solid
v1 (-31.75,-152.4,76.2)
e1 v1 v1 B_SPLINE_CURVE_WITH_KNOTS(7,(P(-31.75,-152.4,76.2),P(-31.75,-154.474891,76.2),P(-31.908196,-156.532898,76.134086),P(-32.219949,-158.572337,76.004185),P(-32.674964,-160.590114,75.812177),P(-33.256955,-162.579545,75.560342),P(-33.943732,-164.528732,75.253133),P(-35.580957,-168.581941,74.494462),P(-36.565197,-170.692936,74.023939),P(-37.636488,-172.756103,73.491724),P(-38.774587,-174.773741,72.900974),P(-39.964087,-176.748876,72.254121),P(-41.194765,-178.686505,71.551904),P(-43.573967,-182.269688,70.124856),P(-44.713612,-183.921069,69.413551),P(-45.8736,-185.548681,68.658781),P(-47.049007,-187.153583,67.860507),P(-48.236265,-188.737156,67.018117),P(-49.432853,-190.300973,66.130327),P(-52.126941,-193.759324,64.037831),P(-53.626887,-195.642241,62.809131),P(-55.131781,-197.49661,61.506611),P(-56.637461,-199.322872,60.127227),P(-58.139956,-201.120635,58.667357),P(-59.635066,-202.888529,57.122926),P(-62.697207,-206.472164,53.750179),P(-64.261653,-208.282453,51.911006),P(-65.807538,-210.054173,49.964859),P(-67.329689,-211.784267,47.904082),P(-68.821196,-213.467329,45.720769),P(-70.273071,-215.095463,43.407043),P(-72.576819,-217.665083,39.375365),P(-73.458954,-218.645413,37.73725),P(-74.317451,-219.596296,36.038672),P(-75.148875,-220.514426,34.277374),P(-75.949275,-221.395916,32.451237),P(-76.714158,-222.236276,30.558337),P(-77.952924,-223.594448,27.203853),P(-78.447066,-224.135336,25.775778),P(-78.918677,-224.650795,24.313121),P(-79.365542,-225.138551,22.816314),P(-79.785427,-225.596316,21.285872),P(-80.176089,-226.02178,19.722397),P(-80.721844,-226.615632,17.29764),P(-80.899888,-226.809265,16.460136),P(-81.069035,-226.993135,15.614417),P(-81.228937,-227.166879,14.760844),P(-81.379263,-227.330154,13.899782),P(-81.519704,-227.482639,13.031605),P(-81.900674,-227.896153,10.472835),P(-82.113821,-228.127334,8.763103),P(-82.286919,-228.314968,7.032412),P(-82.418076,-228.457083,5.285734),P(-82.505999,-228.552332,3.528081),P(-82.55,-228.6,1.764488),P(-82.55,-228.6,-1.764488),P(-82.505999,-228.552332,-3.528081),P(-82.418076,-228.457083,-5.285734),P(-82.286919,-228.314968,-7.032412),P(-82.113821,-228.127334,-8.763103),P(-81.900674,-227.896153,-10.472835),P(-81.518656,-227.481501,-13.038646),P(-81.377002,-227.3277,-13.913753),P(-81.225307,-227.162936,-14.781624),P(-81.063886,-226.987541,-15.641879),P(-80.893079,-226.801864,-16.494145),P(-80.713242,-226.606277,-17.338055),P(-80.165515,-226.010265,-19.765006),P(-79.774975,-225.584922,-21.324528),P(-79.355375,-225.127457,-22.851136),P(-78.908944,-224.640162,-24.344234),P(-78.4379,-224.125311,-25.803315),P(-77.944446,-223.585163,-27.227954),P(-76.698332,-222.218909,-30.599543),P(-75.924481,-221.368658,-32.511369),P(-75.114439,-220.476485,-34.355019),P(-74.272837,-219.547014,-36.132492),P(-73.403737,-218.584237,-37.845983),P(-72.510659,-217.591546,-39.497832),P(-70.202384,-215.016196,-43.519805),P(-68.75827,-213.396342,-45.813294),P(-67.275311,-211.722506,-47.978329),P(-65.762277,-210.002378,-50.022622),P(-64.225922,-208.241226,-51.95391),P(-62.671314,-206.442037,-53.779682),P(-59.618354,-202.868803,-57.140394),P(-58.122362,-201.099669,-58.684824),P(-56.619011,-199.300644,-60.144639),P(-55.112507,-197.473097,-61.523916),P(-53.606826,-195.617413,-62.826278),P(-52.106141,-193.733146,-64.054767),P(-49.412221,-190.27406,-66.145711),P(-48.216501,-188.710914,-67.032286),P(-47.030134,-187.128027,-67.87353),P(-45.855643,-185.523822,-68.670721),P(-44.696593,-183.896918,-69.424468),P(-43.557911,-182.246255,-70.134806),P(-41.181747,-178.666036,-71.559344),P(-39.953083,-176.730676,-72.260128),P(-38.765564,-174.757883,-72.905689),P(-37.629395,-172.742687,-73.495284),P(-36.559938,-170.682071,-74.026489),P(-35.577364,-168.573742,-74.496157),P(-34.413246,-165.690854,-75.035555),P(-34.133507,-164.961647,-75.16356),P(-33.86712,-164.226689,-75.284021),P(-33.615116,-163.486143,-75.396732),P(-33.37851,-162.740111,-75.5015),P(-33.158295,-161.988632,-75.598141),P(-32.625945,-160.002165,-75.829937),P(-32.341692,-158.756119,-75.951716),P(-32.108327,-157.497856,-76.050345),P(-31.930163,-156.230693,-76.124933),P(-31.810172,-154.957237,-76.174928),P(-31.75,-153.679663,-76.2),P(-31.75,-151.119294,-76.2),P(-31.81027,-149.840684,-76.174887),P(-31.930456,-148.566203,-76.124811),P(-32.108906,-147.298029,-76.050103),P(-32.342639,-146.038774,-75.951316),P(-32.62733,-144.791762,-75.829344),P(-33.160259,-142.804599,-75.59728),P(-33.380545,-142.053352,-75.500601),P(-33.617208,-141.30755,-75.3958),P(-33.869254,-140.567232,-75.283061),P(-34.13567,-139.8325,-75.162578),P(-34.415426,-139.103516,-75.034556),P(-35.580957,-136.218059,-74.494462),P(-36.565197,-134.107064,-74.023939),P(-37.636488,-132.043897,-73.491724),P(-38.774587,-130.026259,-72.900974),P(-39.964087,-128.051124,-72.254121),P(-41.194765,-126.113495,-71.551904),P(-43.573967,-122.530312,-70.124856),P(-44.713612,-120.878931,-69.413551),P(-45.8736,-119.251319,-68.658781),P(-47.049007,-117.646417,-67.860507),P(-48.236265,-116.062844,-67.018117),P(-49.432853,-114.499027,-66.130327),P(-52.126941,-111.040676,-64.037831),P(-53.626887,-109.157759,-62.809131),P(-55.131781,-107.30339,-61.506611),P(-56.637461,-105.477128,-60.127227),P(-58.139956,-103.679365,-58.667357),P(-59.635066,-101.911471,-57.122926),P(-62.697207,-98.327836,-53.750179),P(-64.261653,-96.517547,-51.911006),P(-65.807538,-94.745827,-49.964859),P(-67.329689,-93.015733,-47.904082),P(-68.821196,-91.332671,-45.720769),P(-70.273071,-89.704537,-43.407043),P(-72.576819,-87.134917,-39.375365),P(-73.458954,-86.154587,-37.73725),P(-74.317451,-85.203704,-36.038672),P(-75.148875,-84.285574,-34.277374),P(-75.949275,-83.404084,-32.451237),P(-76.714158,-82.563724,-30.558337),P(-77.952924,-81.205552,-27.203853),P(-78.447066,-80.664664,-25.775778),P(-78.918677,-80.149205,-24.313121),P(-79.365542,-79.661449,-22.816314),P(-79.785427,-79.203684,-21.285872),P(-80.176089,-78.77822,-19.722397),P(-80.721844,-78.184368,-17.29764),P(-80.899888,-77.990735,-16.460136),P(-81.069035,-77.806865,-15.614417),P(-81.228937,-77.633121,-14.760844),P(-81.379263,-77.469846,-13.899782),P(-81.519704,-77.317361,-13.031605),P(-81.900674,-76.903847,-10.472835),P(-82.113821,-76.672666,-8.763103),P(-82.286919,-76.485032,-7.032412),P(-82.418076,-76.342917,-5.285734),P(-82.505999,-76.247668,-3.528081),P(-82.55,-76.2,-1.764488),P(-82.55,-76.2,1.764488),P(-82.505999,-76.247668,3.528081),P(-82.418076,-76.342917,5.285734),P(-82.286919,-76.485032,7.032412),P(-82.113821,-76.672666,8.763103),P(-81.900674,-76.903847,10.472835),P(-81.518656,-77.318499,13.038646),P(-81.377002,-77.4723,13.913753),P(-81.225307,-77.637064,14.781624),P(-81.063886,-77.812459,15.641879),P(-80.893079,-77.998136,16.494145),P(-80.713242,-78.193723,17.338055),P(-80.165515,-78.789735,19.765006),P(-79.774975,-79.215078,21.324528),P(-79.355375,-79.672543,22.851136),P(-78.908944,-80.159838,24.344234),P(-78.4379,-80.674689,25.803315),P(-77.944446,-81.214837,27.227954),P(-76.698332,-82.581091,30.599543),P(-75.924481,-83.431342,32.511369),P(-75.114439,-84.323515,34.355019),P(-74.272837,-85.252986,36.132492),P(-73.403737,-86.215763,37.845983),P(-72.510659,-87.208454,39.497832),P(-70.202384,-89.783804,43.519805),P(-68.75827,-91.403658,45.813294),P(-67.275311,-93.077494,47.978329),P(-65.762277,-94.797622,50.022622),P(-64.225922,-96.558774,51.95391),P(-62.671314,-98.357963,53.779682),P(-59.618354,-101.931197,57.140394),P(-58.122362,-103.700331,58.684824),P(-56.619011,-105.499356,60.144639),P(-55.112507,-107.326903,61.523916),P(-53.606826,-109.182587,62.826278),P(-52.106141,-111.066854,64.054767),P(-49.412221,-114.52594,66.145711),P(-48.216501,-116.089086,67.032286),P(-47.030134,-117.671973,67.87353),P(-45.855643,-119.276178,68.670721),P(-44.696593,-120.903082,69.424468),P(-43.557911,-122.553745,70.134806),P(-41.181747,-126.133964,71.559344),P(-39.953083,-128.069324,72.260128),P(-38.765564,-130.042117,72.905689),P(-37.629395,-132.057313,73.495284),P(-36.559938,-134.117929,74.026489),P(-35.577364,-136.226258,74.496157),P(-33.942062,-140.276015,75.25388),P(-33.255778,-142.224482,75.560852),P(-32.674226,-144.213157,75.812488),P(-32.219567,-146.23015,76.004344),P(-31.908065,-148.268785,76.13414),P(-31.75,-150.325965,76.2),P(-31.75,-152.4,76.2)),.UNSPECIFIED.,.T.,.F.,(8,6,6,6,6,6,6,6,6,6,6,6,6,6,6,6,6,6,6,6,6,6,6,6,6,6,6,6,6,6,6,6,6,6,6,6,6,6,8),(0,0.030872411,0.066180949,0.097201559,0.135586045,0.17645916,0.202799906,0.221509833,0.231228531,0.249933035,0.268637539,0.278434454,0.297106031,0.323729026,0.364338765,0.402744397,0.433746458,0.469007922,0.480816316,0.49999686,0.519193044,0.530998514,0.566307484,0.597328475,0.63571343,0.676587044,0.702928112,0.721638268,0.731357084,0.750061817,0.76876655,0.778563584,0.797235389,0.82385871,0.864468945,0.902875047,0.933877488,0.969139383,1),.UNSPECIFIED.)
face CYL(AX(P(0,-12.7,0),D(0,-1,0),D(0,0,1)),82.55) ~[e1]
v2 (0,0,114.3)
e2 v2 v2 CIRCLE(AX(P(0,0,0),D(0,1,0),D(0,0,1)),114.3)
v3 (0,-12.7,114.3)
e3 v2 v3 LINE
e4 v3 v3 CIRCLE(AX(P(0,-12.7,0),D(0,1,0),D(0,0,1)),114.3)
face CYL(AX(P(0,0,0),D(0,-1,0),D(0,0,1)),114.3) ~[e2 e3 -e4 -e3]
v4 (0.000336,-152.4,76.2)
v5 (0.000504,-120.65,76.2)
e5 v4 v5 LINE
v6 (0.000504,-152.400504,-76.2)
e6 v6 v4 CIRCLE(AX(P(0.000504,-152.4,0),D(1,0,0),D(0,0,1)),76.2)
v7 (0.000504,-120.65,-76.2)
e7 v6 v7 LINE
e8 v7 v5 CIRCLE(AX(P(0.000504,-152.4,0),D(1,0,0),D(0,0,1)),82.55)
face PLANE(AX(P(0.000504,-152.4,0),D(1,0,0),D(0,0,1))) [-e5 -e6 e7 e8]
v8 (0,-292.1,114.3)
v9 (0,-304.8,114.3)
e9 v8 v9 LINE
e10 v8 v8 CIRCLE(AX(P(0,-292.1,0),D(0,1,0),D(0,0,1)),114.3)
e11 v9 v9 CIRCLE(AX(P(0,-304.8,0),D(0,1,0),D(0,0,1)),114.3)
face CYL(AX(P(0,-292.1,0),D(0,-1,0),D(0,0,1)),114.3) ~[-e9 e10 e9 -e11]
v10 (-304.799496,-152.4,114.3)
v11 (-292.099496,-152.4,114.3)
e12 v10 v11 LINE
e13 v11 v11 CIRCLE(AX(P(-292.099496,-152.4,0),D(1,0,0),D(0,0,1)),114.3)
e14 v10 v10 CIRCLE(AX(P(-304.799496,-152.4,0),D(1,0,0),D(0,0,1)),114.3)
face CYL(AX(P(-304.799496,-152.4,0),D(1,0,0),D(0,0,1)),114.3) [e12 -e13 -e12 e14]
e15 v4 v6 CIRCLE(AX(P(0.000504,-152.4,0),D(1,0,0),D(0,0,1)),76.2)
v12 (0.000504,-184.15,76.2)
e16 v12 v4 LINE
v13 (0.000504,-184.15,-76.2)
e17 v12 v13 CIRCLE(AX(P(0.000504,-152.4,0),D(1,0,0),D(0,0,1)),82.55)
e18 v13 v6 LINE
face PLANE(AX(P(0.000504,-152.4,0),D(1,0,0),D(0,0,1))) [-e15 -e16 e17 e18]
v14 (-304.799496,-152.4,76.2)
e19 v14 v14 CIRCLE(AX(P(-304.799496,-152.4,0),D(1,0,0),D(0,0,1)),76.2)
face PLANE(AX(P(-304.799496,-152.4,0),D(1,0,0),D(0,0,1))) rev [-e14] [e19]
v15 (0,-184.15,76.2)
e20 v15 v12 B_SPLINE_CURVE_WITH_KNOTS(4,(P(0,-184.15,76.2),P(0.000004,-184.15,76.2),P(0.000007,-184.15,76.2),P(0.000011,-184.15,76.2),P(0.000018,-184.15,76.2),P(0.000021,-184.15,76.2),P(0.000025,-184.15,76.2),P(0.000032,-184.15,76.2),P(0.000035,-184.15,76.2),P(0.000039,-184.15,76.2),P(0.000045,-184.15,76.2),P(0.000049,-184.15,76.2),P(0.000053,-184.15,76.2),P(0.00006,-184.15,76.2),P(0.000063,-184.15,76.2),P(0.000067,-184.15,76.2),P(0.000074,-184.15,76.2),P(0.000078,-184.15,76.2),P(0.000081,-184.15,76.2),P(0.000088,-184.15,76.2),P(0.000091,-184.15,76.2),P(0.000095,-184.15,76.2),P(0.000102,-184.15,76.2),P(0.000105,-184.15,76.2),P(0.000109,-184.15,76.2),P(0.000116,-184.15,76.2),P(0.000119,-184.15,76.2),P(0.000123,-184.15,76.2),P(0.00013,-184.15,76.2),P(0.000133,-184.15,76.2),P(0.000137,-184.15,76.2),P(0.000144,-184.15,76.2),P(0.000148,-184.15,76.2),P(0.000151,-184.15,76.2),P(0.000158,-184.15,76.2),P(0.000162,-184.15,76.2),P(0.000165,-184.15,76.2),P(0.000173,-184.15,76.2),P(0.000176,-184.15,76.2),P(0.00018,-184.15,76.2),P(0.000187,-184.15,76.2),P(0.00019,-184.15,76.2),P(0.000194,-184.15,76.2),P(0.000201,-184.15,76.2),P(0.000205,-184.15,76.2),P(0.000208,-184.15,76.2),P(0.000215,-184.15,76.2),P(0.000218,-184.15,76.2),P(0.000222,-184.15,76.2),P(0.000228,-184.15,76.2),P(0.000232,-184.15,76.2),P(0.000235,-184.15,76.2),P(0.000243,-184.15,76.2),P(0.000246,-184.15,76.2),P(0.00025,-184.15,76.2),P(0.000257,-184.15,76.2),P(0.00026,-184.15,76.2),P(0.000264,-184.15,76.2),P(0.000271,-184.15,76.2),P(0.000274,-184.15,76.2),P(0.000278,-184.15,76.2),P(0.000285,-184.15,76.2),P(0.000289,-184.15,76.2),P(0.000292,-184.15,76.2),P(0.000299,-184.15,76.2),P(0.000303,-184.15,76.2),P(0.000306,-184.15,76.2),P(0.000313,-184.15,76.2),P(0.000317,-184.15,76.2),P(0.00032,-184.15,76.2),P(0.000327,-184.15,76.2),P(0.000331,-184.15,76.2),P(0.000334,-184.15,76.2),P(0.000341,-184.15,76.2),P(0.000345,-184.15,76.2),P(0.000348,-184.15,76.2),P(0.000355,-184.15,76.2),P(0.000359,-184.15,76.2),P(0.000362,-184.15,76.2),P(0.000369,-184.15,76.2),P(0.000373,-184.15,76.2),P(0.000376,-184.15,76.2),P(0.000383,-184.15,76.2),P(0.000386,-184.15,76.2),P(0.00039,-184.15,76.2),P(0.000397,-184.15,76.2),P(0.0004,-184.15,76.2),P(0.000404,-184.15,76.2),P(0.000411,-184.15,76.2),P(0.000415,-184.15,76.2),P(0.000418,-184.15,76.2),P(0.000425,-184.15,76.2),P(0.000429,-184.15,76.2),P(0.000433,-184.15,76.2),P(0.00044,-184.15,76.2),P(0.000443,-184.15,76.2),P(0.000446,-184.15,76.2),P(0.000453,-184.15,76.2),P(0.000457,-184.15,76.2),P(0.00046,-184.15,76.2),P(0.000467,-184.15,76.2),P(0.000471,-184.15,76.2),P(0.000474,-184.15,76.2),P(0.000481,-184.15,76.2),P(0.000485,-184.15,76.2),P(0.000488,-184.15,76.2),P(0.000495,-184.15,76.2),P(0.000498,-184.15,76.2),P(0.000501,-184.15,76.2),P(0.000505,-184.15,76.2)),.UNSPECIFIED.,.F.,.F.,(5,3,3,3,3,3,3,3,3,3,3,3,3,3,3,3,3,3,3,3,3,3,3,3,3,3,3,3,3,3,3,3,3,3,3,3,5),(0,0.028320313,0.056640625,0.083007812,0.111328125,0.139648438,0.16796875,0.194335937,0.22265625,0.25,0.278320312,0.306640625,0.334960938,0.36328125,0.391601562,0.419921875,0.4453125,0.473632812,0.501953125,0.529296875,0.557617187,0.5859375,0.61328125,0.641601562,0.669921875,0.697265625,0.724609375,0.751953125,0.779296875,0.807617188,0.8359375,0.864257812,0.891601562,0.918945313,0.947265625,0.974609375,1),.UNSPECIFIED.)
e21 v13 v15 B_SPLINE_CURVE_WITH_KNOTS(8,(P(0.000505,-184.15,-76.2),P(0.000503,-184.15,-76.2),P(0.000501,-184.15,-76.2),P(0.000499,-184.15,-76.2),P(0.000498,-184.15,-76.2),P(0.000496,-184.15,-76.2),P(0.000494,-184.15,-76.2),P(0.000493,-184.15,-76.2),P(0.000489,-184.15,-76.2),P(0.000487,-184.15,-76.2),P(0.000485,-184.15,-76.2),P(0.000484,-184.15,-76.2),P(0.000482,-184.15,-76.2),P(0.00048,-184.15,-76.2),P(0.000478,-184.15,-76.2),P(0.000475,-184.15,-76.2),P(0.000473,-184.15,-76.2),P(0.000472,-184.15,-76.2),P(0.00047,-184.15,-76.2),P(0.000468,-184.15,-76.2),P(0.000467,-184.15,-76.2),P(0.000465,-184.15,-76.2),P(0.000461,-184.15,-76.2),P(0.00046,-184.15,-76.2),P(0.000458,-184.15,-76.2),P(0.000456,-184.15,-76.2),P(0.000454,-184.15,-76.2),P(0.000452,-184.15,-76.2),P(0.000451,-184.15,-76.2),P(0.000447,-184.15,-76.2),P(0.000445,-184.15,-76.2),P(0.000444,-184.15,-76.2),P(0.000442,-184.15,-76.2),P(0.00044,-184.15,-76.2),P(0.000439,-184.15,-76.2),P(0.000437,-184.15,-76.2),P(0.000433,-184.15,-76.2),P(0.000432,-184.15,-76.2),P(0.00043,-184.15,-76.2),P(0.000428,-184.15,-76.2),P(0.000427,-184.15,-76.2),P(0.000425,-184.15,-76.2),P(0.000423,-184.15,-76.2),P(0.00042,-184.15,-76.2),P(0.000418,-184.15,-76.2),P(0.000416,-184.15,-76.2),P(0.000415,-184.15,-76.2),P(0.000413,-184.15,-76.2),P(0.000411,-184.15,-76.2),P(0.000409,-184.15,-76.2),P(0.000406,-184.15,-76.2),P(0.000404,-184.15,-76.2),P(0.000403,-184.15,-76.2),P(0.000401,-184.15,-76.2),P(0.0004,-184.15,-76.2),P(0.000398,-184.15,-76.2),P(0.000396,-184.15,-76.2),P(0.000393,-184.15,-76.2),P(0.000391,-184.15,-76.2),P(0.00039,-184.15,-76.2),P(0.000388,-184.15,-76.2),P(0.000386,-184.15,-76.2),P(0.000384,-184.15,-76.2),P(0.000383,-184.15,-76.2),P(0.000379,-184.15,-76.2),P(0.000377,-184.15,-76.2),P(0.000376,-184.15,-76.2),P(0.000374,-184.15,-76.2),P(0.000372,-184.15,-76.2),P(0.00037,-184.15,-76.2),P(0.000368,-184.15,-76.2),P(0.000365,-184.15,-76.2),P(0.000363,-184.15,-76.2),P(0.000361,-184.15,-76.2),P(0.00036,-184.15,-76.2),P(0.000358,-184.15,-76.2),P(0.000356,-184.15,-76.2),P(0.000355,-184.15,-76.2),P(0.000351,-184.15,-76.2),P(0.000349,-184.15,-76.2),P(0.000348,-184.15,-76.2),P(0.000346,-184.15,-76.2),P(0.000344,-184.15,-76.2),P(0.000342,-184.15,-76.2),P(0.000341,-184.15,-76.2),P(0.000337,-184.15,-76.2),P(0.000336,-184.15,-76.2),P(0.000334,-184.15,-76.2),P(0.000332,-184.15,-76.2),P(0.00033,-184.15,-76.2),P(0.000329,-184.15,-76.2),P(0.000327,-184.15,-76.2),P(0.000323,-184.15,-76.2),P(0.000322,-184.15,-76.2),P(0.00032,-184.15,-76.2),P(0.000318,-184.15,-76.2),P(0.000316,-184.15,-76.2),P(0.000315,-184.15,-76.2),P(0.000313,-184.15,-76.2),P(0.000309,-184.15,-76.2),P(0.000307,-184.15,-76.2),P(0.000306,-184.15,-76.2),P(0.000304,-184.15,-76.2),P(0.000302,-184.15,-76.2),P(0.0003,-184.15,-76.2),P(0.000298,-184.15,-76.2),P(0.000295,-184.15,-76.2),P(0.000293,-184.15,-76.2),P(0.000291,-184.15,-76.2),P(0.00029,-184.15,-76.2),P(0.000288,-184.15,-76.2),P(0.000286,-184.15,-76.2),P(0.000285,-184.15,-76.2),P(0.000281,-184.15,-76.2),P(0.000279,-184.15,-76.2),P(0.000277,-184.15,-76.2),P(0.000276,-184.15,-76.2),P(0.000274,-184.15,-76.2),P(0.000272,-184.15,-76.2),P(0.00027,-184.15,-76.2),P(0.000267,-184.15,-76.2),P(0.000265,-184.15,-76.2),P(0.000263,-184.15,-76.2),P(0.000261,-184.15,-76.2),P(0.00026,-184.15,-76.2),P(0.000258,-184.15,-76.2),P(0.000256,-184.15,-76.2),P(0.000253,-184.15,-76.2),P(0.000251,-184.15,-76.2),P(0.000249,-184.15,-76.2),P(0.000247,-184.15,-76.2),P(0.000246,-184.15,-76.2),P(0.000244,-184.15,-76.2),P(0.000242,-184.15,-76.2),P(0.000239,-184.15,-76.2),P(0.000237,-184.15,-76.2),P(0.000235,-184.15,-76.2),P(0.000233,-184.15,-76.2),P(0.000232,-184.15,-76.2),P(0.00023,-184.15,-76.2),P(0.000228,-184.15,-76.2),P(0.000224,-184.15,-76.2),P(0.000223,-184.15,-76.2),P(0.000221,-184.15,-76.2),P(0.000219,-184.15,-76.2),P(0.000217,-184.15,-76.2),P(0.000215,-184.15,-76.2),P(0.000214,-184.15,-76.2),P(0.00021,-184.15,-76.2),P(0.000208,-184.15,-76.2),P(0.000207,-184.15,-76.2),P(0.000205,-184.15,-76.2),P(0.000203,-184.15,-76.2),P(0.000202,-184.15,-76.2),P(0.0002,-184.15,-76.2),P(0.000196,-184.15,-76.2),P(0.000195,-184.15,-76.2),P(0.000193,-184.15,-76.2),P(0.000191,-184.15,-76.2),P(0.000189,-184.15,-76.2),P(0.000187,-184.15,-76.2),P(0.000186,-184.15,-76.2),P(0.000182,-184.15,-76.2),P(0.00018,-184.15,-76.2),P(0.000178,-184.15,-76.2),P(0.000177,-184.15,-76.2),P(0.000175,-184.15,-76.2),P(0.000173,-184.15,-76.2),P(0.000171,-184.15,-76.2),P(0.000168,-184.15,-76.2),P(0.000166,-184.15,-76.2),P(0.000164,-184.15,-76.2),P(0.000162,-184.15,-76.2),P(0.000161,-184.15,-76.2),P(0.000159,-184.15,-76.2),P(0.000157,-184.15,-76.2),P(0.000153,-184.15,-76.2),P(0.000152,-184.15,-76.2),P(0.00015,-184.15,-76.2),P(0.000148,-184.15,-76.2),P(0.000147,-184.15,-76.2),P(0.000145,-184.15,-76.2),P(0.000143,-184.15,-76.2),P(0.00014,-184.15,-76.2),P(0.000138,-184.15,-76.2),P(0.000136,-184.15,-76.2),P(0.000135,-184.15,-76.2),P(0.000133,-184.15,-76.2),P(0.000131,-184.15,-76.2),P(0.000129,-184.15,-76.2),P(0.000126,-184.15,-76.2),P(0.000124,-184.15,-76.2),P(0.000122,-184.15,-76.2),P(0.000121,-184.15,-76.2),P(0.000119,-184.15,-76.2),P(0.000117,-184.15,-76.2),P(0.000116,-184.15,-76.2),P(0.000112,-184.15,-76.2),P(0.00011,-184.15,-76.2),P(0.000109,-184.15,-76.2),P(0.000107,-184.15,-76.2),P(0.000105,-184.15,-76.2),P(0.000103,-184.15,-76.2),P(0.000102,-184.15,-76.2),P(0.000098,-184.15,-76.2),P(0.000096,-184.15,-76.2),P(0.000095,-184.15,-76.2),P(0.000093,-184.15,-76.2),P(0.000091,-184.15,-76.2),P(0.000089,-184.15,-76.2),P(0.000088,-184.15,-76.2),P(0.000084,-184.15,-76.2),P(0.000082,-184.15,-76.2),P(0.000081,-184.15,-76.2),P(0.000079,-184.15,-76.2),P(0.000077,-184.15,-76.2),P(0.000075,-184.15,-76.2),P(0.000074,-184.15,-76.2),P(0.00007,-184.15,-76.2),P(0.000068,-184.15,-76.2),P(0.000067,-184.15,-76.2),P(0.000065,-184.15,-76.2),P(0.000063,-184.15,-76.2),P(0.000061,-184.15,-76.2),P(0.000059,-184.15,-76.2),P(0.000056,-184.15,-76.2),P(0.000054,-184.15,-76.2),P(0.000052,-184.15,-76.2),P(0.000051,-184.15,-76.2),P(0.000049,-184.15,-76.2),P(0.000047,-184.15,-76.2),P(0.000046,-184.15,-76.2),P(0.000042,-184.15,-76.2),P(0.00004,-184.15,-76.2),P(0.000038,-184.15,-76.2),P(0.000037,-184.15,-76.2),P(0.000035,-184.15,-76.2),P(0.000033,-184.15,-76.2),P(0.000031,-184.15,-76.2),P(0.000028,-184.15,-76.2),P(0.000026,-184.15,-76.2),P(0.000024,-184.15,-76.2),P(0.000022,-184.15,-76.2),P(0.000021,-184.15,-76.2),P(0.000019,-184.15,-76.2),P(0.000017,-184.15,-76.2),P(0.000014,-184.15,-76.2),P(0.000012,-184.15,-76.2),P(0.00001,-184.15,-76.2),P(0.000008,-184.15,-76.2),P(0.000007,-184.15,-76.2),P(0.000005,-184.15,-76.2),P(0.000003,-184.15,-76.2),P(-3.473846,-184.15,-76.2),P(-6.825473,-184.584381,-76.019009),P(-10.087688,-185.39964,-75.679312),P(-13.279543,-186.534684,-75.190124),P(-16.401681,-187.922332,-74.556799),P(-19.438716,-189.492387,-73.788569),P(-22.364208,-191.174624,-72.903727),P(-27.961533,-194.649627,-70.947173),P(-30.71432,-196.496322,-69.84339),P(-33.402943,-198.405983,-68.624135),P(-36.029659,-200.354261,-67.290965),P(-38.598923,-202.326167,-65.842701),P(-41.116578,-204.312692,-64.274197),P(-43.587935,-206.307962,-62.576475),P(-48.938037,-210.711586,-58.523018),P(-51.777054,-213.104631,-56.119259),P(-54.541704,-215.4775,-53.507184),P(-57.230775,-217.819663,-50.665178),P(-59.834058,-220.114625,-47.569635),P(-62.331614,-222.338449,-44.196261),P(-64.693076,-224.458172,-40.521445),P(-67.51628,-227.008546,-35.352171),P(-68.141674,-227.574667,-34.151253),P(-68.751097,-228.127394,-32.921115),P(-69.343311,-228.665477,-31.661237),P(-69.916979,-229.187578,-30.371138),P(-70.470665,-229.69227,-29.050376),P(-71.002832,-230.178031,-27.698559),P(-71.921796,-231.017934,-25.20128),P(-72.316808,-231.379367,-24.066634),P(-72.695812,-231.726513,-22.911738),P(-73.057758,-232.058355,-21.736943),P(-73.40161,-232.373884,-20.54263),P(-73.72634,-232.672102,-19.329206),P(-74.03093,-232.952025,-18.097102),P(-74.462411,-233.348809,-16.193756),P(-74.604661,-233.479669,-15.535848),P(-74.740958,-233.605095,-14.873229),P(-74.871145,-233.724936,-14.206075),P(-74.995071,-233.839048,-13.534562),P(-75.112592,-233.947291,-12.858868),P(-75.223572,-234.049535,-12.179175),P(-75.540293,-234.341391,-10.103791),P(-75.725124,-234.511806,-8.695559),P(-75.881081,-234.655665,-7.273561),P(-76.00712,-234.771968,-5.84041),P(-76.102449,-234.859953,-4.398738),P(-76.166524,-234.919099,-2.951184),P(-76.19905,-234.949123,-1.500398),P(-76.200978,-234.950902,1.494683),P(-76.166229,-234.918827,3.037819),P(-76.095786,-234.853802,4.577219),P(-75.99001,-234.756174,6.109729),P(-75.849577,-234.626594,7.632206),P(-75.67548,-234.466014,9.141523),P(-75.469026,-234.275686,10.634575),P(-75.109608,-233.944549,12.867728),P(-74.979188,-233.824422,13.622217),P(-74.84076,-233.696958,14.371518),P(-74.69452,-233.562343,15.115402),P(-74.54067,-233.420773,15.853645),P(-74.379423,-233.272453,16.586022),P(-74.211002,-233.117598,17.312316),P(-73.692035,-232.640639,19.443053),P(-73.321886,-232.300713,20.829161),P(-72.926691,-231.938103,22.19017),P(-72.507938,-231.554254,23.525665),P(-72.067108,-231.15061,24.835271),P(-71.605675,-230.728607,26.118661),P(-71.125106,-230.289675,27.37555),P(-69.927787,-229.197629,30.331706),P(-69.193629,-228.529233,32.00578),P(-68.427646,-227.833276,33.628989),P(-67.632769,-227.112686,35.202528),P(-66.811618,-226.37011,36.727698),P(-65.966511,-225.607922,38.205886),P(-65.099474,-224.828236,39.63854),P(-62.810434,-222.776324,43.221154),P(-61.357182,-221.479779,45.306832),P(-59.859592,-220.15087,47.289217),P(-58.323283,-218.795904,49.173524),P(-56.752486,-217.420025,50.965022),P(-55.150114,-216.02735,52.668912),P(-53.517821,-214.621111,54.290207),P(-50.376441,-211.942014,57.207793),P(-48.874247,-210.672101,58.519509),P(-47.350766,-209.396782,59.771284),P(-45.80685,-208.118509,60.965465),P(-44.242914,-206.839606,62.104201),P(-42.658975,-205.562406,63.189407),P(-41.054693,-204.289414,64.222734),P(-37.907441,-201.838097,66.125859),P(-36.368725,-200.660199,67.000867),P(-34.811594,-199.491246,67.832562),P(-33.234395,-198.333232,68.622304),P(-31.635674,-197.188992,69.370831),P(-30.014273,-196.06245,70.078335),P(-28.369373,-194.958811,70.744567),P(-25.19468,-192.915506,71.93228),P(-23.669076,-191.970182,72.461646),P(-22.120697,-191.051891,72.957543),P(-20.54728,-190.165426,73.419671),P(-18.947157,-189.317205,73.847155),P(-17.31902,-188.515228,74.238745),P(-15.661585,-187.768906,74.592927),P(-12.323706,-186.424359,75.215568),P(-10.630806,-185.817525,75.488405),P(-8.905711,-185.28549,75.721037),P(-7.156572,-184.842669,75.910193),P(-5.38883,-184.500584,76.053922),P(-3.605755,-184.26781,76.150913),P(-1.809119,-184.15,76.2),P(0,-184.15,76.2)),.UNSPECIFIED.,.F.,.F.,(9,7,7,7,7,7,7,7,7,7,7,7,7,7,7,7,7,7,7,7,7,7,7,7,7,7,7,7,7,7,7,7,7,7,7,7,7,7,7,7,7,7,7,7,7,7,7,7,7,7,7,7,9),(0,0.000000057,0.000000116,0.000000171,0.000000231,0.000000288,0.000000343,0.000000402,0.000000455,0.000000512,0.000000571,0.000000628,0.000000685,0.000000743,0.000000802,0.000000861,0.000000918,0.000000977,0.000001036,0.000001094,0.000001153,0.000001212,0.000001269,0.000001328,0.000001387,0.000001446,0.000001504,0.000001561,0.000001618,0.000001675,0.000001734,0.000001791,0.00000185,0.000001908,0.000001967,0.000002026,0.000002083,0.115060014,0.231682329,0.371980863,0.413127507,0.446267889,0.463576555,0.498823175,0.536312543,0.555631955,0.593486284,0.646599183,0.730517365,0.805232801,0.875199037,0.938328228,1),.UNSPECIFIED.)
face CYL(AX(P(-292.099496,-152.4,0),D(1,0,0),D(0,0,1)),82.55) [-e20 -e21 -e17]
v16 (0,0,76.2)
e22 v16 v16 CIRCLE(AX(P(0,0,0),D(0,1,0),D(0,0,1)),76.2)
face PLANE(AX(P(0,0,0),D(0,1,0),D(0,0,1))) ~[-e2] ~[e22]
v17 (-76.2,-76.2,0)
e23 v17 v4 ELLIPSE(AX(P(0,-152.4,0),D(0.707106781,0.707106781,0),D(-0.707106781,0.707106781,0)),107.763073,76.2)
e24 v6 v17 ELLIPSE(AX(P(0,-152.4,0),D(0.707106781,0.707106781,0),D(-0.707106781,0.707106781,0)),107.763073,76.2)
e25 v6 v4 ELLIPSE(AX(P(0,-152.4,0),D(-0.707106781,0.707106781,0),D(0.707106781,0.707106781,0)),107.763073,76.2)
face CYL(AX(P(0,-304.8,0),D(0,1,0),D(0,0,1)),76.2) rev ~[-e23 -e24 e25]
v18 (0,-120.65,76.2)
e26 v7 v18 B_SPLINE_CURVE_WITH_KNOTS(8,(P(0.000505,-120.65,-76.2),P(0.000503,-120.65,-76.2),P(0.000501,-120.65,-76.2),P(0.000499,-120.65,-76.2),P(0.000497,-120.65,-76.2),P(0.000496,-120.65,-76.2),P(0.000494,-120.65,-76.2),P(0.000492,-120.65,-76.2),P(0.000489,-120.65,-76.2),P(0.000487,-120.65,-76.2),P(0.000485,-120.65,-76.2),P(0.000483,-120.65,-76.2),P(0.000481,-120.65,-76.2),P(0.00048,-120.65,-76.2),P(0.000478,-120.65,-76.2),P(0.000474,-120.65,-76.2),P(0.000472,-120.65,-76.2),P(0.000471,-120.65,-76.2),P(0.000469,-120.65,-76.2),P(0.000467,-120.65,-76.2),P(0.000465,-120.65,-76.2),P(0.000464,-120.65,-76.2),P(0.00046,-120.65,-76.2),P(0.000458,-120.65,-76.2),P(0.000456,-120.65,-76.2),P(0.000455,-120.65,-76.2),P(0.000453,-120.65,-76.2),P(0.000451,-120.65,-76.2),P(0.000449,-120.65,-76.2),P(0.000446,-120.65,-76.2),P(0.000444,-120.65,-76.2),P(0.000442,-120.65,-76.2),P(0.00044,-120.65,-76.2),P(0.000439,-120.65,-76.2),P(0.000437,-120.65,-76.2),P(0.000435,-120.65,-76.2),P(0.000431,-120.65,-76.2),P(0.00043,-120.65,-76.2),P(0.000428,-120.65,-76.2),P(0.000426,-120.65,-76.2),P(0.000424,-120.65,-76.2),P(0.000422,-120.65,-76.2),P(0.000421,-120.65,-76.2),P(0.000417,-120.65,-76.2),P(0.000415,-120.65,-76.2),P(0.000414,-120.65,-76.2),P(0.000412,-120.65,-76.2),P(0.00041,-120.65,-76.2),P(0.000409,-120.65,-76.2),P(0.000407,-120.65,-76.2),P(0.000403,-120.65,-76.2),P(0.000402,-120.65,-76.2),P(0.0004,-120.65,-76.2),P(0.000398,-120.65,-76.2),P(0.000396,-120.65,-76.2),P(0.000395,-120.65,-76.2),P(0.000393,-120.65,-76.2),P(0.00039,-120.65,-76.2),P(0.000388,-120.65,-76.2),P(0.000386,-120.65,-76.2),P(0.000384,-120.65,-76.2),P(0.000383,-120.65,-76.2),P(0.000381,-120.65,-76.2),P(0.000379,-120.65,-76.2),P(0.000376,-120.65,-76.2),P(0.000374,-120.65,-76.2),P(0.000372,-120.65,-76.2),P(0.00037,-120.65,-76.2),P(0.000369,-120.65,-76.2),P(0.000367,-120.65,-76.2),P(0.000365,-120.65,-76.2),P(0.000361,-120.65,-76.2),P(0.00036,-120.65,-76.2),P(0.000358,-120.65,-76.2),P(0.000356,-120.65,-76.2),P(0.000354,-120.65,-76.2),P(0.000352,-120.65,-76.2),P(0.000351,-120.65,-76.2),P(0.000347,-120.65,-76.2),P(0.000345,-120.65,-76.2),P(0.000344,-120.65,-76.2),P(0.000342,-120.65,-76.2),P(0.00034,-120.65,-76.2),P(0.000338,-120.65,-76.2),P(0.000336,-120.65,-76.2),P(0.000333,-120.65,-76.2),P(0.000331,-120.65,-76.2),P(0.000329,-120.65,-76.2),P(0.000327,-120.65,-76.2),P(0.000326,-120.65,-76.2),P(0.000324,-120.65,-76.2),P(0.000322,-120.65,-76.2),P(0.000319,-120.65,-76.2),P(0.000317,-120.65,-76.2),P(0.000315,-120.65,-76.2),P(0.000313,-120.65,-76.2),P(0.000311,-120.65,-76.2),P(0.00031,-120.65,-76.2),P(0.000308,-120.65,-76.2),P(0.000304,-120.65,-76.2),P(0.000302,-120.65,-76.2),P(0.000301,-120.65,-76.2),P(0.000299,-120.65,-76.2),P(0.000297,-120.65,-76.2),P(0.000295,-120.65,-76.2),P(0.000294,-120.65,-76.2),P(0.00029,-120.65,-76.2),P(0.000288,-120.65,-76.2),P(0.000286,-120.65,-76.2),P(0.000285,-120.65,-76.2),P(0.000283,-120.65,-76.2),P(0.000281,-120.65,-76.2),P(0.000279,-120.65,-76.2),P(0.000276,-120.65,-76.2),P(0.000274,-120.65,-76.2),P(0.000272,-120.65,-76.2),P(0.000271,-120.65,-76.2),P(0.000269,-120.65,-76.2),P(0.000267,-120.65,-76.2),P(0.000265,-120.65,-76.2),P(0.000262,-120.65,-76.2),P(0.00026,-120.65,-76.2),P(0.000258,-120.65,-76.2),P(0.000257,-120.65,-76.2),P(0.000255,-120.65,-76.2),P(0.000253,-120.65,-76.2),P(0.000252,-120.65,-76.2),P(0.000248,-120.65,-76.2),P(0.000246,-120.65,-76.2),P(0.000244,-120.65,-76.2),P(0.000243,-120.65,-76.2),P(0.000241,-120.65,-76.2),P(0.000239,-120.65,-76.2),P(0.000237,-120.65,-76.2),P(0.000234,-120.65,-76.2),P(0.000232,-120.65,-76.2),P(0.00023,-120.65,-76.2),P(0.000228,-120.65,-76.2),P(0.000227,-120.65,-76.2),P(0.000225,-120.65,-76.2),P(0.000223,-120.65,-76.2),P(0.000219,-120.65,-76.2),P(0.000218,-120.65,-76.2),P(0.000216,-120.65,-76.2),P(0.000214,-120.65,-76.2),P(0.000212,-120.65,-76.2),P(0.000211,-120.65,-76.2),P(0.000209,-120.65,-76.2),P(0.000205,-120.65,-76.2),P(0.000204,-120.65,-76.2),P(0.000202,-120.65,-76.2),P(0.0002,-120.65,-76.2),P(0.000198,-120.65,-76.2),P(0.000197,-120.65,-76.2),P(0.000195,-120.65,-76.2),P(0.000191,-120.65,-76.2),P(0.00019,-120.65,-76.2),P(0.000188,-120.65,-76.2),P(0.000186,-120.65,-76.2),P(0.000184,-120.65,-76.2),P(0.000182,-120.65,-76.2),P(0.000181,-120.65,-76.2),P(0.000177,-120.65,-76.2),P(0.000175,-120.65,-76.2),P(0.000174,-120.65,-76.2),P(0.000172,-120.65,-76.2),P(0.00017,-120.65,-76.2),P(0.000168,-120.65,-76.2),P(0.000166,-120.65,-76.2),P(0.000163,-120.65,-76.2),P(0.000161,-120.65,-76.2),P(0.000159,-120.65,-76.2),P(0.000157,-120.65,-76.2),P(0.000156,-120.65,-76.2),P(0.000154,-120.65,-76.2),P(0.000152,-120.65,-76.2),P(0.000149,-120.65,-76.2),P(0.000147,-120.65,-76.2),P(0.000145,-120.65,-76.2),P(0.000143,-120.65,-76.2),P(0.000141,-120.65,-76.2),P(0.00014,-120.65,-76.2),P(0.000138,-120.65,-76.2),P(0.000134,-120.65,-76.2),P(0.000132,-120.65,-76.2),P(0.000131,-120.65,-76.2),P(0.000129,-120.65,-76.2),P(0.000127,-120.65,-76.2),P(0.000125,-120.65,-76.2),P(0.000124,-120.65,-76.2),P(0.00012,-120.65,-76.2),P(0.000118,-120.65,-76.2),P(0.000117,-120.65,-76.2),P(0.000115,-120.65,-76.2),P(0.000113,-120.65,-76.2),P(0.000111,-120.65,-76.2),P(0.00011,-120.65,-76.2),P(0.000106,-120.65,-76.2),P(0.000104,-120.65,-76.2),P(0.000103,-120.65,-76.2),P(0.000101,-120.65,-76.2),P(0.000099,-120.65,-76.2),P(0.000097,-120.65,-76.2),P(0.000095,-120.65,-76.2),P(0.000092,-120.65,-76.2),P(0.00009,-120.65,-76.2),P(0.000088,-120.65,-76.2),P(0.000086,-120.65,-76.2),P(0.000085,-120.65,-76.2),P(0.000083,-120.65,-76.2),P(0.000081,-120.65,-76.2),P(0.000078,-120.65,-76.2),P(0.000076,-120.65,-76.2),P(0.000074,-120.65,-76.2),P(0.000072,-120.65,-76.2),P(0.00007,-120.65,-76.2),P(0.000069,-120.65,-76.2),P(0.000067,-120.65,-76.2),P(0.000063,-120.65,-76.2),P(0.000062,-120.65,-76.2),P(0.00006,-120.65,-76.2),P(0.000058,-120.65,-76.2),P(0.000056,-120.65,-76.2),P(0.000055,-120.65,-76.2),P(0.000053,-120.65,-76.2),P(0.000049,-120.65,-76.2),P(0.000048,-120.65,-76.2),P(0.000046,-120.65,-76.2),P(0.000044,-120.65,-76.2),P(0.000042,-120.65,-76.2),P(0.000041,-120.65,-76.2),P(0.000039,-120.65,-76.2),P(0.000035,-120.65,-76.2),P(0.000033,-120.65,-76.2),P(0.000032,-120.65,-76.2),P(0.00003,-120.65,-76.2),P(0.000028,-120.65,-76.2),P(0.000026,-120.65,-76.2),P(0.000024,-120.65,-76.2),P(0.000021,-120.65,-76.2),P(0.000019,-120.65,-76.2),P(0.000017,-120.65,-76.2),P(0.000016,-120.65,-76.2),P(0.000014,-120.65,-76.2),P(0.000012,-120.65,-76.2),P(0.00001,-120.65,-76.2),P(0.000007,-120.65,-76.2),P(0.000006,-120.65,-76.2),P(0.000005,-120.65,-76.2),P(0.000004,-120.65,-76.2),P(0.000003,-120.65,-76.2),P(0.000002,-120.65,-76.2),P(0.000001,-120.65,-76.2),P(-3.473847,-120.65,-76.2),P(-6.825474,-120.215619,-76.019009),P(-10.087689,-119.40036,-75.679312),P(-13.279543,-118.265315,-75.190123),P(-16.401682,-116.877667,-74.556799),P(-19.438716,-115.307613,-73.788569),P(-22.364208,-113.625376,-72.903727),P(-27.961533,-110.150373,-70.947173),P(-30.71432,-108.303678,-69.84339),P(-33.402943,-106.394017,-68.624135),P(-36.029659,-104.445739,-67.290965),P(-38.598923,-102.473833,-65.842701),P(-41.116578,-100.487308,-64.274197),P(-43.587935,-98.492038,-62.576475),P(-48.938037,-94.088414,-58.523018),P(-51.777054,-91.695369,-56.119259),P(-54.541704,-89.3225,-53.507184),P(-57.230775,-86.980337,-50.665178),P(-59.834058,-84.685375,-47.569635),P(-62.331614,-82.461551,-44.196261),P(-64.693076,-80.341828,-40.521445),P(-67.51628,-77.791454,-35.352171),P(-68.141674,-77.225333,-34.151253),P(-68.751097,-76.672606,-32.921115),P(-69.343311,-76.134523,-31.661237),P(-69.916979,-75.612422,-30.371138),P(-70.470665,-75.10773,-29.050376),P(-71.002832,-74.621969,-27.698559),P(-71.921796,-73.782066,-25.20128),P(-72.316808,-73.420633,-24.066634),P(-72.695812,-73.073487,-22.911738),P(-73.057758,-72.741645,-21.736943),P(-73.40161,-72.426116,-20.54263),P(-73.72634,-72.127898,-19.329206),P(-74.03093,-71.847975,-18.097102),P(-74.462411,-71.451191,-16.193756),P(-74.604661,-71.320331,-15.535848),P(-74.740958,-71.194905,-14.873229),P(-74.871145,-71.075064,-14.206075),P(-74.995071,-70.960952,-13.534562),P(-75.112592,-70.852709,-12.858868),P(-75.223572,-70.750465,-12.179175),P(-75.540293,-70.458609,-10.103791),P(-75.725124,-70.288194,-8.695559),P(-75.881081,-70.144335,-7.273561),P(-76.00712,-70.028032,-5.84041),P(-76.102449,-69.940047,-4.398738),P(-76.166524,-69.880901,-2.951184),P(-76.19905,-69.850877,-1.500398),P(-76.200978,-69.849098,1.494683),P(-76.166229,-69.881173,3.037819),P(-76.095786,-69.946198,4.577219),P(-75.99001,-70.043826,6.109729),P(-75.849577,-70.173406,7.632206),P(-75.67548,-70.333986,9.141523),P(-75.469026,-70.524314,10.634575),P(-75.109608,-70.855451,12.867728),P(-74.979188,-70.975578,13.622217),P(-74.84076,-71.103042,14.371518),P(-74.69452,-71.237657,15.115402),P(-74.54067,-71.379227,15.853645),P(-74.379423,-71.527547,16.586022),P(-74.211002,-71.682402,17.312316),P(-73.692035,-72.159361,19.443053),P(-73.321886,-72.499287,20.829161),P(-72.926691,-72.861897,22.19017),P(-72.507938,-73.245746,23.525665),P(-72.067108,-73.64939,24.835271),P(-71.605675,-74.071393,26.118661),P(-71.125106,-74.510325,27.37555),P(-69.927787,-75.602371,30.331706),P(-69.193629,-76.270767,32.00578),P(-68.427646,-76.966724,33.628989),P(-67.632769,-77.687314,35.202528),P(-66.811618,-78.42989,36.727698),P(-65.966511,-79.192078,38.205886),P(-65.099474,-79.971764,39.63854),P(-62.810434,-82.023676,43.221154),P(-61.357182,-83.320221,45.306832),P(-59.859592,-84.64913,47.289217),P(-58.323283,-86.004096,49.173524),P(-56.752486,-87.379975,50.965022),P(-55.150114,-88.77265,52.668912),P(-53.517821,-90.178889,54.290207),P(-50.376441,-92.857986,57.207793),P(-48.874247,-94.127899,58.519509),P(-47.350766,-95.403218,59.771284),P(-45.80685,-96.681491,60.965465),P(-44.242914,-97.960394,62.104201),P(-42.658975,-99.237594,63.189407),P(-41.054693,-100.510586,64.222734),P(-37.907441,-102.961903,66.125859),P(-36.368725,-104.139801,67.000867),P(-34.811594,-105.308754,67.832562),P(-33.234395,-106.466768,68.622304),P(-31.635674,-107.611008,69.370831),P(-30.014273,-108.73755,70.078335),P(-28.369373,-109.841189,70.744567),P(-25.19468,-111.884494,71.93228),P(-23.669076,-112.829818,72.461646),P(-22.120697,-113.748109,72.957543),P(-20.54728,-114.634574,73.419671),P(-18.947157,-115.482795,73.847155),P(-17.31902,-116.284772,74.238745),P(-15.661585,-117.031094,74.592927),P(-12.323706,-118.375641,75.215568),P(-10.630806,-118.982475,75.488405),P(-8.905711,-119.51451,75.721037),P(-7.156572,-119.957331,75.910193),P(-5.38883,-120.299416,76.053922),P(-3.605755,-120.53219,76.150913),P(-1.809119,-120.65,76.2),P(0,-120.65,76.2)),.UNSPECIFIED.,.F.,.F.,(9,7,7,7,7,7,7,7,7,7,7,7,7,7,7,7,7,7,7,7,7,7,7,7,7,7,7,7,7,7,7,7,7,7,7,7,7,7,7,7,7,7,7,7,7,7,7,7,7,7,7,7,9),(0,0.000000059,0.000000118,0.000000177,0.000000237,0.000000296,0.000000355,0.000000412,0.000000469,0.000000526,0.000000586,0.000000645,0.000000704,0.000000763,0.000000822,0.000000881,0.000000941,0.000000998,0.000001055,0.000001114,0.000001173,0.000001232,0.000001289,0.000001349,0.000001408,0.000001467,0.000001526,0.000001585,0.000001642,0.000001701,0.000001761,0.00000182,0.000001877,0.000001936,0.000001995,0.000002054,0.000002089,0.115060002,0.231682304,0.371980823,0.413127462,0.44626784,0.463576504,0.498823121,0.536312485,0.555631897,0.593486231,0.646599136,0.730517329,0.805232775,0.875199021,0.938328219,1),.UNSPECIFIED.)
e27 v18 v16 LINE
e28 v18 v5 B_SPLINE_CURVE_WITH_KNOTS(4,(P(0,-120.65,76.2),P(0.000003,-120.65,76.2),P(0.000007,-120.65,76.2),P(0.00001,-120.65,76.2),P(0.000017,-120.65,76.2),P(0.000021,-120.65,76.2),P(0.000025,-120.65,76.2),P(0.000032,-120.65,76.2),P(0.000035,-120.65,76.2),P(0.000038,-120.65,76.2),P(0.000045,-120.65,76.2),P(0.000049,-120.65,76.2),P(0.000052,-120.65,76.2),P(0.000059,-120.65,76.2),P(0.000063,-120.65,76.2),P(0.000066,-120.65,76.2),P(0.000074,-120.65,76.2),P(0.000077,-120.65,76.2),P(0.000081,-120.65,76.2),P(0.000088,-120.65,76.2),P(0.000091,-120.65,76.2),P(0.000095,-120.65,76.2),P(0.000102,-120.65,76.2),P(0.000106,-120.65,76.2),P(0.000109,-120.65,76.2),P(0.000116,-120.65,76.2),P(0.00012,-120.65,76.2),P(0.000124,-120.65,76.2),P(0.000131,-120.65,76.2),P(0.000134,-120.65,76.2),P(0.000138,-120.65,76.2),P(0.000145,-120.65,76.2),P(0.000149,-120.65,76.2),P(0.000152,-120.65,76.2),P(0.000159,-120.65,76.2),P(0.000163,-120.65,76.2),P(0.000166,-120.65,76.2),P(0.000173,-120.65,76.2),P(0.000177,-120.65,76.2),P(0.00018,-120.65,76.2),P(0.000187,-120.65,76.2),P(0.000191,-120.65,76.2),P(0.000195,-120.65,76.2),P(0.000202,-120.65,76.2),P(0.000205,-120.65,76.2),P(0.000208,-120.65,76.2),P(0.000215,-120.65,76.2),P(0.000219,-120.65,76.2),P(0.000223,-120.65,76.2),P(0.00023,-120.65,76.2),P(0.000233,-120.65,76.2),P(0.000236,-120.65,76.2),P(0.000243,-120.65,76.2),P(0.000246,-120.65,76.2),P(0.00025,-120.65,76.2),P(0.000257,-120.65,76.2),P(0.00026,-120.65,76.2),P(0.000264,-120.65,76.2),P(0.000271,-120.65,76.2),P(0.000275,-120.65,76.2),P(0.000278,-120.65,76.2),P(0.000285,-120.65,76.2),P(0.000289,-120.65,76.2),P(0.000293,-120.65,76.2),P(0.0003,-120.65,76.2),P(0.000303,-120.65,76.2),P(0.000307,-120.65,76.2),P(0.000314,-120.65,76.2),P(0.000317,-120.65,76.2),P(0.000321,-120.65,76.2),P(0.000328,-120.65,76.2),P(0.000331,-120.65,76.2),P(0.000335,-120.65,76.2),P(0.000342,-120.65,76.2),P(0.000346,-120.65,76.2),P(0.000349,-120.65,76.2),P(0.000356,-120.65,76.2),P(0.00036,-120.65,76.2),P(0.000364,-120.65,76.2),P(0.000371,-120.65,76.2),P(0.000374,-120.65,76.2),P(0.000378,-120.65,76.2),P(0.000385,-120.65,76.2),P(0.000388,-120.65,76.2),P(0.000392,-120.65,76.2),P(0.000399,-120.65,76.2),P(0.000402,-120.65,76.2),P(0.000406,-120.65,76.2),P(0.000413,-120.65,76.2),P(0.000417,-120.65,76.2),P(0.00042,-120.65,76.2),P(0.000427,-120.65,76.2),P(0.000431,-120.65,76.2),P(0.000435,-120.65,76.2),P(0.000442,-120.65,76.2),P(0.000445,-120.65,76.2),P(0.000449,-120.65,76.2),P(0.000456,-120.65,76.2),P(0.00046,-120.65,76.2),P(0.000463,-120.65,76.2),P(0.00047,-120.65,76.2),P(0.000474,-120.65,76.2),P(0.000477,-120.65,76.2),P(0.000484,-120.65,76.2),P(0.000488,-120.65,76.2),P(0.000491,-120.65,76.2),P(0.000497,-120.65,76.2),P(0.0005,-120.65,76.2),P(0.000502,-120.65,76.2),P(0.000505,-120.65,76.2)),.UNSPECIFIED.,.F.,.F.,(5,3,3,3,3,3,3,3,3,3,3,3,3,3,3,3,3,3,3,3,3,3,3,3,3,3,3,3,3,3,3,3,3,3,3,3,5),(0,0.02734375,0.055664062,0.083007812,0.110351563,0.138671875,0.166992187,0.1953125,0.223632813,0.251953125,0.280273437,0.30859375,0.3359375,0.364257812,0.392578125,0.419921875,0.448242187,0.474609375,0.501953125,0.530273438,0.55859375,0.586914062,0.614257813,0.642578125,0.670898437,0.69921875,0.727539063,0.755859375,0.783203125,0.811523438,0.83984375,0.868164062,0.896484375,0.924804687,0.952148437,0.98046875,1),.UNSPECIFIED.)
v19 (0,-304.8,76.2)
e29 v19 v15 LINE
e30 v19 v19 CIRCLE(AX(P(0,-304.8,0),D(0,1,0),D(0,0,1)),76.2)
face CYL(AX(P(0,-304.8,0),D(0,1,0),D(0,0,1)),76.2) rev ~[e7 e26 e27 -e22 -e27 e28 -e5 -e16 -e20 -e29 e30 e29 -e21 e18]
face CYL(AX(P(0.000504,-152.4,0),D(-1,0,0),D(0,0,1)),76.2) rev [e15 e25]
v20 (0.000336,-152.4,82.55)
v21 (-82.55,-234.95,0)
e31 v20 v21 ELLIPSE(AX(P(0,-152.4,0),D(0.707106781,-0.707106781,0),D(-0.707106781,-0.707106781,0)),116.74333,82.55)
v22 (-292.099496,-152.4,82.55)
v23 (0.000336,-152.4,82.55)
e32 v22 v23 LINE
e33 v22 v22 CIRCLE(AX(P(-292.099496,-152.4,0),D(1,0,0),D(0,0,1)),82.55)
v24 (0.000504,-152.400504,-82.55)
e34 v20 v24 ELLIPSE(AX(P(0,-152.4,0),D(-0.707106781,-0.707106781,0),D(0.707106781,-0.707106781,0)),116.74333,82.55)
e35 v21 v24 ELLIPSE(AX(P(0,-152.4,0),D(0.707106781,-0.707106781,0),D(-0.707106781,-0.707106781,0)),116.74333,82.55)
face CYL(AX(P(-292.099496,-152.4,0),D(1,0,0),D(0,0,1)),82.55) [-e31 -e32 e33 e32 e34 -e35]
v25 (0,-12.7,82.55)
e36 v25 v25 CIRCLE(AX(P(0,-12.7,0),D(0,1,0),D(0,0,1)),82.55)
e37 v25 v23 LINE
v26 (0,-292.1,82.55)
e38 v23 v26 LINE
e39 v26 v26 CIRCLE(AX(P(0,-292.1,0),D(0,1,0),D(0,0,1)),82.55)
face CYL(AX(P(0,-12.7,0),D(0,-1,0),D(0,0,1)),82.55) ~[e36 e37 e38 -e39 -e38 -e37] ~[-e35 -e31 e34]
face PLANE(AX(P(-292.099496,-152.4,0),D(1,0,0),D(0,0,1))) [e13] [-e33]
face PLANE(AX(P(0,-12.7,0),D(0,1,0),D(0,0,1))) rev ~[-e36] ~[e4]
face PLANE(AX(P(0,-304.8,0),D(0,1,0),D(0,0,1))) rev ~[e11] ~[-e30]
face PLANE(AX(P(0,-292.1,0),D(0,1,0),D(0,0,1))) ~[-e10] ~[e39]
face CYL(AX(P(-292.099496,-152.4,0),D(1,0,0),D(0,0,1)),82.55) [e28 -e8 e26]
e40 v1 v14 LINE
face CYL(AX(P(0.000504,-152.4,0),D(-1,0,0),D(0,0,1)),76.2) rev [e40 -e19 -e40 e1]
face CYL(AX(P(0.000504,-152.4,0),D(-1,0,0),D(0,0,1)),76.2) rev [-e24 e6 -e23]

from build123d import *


with BuildPart() as f1:
    # F0 (on Right) → F1 (revolve)
    with BuildSketch(Plane.YZ):
        Polygon((0, 76.2), (0, 114.3), (-12.7, 114.3), (-12.7, 82.55), (-292.1, 82.55), (-292.1, 114.3), (-304.8, 114.3), (-304.8, 76.2), align=None)
    revolve(axis=Axis((0, 69.986956, 0), (0, 1, 0)))

    # F3 (on mid) → F4 (revolve)
    with BuildSketch(Plane(origin=(0, -152.4, 0), x_dir=(-1, 0, 0), z_dir=(0, 1, 0))):
        Polygon((304.799496, 76.2), (304.799496, 114.3), (292.099496, 114.3), (292.099496, 82.55), (-0.000504, 82.55), (-0.000504, 76.2), align=None)
    revolve(axis=Axis((-10.273844, -152.4, 0), (1, 0, 0)))


solid = f1.part
